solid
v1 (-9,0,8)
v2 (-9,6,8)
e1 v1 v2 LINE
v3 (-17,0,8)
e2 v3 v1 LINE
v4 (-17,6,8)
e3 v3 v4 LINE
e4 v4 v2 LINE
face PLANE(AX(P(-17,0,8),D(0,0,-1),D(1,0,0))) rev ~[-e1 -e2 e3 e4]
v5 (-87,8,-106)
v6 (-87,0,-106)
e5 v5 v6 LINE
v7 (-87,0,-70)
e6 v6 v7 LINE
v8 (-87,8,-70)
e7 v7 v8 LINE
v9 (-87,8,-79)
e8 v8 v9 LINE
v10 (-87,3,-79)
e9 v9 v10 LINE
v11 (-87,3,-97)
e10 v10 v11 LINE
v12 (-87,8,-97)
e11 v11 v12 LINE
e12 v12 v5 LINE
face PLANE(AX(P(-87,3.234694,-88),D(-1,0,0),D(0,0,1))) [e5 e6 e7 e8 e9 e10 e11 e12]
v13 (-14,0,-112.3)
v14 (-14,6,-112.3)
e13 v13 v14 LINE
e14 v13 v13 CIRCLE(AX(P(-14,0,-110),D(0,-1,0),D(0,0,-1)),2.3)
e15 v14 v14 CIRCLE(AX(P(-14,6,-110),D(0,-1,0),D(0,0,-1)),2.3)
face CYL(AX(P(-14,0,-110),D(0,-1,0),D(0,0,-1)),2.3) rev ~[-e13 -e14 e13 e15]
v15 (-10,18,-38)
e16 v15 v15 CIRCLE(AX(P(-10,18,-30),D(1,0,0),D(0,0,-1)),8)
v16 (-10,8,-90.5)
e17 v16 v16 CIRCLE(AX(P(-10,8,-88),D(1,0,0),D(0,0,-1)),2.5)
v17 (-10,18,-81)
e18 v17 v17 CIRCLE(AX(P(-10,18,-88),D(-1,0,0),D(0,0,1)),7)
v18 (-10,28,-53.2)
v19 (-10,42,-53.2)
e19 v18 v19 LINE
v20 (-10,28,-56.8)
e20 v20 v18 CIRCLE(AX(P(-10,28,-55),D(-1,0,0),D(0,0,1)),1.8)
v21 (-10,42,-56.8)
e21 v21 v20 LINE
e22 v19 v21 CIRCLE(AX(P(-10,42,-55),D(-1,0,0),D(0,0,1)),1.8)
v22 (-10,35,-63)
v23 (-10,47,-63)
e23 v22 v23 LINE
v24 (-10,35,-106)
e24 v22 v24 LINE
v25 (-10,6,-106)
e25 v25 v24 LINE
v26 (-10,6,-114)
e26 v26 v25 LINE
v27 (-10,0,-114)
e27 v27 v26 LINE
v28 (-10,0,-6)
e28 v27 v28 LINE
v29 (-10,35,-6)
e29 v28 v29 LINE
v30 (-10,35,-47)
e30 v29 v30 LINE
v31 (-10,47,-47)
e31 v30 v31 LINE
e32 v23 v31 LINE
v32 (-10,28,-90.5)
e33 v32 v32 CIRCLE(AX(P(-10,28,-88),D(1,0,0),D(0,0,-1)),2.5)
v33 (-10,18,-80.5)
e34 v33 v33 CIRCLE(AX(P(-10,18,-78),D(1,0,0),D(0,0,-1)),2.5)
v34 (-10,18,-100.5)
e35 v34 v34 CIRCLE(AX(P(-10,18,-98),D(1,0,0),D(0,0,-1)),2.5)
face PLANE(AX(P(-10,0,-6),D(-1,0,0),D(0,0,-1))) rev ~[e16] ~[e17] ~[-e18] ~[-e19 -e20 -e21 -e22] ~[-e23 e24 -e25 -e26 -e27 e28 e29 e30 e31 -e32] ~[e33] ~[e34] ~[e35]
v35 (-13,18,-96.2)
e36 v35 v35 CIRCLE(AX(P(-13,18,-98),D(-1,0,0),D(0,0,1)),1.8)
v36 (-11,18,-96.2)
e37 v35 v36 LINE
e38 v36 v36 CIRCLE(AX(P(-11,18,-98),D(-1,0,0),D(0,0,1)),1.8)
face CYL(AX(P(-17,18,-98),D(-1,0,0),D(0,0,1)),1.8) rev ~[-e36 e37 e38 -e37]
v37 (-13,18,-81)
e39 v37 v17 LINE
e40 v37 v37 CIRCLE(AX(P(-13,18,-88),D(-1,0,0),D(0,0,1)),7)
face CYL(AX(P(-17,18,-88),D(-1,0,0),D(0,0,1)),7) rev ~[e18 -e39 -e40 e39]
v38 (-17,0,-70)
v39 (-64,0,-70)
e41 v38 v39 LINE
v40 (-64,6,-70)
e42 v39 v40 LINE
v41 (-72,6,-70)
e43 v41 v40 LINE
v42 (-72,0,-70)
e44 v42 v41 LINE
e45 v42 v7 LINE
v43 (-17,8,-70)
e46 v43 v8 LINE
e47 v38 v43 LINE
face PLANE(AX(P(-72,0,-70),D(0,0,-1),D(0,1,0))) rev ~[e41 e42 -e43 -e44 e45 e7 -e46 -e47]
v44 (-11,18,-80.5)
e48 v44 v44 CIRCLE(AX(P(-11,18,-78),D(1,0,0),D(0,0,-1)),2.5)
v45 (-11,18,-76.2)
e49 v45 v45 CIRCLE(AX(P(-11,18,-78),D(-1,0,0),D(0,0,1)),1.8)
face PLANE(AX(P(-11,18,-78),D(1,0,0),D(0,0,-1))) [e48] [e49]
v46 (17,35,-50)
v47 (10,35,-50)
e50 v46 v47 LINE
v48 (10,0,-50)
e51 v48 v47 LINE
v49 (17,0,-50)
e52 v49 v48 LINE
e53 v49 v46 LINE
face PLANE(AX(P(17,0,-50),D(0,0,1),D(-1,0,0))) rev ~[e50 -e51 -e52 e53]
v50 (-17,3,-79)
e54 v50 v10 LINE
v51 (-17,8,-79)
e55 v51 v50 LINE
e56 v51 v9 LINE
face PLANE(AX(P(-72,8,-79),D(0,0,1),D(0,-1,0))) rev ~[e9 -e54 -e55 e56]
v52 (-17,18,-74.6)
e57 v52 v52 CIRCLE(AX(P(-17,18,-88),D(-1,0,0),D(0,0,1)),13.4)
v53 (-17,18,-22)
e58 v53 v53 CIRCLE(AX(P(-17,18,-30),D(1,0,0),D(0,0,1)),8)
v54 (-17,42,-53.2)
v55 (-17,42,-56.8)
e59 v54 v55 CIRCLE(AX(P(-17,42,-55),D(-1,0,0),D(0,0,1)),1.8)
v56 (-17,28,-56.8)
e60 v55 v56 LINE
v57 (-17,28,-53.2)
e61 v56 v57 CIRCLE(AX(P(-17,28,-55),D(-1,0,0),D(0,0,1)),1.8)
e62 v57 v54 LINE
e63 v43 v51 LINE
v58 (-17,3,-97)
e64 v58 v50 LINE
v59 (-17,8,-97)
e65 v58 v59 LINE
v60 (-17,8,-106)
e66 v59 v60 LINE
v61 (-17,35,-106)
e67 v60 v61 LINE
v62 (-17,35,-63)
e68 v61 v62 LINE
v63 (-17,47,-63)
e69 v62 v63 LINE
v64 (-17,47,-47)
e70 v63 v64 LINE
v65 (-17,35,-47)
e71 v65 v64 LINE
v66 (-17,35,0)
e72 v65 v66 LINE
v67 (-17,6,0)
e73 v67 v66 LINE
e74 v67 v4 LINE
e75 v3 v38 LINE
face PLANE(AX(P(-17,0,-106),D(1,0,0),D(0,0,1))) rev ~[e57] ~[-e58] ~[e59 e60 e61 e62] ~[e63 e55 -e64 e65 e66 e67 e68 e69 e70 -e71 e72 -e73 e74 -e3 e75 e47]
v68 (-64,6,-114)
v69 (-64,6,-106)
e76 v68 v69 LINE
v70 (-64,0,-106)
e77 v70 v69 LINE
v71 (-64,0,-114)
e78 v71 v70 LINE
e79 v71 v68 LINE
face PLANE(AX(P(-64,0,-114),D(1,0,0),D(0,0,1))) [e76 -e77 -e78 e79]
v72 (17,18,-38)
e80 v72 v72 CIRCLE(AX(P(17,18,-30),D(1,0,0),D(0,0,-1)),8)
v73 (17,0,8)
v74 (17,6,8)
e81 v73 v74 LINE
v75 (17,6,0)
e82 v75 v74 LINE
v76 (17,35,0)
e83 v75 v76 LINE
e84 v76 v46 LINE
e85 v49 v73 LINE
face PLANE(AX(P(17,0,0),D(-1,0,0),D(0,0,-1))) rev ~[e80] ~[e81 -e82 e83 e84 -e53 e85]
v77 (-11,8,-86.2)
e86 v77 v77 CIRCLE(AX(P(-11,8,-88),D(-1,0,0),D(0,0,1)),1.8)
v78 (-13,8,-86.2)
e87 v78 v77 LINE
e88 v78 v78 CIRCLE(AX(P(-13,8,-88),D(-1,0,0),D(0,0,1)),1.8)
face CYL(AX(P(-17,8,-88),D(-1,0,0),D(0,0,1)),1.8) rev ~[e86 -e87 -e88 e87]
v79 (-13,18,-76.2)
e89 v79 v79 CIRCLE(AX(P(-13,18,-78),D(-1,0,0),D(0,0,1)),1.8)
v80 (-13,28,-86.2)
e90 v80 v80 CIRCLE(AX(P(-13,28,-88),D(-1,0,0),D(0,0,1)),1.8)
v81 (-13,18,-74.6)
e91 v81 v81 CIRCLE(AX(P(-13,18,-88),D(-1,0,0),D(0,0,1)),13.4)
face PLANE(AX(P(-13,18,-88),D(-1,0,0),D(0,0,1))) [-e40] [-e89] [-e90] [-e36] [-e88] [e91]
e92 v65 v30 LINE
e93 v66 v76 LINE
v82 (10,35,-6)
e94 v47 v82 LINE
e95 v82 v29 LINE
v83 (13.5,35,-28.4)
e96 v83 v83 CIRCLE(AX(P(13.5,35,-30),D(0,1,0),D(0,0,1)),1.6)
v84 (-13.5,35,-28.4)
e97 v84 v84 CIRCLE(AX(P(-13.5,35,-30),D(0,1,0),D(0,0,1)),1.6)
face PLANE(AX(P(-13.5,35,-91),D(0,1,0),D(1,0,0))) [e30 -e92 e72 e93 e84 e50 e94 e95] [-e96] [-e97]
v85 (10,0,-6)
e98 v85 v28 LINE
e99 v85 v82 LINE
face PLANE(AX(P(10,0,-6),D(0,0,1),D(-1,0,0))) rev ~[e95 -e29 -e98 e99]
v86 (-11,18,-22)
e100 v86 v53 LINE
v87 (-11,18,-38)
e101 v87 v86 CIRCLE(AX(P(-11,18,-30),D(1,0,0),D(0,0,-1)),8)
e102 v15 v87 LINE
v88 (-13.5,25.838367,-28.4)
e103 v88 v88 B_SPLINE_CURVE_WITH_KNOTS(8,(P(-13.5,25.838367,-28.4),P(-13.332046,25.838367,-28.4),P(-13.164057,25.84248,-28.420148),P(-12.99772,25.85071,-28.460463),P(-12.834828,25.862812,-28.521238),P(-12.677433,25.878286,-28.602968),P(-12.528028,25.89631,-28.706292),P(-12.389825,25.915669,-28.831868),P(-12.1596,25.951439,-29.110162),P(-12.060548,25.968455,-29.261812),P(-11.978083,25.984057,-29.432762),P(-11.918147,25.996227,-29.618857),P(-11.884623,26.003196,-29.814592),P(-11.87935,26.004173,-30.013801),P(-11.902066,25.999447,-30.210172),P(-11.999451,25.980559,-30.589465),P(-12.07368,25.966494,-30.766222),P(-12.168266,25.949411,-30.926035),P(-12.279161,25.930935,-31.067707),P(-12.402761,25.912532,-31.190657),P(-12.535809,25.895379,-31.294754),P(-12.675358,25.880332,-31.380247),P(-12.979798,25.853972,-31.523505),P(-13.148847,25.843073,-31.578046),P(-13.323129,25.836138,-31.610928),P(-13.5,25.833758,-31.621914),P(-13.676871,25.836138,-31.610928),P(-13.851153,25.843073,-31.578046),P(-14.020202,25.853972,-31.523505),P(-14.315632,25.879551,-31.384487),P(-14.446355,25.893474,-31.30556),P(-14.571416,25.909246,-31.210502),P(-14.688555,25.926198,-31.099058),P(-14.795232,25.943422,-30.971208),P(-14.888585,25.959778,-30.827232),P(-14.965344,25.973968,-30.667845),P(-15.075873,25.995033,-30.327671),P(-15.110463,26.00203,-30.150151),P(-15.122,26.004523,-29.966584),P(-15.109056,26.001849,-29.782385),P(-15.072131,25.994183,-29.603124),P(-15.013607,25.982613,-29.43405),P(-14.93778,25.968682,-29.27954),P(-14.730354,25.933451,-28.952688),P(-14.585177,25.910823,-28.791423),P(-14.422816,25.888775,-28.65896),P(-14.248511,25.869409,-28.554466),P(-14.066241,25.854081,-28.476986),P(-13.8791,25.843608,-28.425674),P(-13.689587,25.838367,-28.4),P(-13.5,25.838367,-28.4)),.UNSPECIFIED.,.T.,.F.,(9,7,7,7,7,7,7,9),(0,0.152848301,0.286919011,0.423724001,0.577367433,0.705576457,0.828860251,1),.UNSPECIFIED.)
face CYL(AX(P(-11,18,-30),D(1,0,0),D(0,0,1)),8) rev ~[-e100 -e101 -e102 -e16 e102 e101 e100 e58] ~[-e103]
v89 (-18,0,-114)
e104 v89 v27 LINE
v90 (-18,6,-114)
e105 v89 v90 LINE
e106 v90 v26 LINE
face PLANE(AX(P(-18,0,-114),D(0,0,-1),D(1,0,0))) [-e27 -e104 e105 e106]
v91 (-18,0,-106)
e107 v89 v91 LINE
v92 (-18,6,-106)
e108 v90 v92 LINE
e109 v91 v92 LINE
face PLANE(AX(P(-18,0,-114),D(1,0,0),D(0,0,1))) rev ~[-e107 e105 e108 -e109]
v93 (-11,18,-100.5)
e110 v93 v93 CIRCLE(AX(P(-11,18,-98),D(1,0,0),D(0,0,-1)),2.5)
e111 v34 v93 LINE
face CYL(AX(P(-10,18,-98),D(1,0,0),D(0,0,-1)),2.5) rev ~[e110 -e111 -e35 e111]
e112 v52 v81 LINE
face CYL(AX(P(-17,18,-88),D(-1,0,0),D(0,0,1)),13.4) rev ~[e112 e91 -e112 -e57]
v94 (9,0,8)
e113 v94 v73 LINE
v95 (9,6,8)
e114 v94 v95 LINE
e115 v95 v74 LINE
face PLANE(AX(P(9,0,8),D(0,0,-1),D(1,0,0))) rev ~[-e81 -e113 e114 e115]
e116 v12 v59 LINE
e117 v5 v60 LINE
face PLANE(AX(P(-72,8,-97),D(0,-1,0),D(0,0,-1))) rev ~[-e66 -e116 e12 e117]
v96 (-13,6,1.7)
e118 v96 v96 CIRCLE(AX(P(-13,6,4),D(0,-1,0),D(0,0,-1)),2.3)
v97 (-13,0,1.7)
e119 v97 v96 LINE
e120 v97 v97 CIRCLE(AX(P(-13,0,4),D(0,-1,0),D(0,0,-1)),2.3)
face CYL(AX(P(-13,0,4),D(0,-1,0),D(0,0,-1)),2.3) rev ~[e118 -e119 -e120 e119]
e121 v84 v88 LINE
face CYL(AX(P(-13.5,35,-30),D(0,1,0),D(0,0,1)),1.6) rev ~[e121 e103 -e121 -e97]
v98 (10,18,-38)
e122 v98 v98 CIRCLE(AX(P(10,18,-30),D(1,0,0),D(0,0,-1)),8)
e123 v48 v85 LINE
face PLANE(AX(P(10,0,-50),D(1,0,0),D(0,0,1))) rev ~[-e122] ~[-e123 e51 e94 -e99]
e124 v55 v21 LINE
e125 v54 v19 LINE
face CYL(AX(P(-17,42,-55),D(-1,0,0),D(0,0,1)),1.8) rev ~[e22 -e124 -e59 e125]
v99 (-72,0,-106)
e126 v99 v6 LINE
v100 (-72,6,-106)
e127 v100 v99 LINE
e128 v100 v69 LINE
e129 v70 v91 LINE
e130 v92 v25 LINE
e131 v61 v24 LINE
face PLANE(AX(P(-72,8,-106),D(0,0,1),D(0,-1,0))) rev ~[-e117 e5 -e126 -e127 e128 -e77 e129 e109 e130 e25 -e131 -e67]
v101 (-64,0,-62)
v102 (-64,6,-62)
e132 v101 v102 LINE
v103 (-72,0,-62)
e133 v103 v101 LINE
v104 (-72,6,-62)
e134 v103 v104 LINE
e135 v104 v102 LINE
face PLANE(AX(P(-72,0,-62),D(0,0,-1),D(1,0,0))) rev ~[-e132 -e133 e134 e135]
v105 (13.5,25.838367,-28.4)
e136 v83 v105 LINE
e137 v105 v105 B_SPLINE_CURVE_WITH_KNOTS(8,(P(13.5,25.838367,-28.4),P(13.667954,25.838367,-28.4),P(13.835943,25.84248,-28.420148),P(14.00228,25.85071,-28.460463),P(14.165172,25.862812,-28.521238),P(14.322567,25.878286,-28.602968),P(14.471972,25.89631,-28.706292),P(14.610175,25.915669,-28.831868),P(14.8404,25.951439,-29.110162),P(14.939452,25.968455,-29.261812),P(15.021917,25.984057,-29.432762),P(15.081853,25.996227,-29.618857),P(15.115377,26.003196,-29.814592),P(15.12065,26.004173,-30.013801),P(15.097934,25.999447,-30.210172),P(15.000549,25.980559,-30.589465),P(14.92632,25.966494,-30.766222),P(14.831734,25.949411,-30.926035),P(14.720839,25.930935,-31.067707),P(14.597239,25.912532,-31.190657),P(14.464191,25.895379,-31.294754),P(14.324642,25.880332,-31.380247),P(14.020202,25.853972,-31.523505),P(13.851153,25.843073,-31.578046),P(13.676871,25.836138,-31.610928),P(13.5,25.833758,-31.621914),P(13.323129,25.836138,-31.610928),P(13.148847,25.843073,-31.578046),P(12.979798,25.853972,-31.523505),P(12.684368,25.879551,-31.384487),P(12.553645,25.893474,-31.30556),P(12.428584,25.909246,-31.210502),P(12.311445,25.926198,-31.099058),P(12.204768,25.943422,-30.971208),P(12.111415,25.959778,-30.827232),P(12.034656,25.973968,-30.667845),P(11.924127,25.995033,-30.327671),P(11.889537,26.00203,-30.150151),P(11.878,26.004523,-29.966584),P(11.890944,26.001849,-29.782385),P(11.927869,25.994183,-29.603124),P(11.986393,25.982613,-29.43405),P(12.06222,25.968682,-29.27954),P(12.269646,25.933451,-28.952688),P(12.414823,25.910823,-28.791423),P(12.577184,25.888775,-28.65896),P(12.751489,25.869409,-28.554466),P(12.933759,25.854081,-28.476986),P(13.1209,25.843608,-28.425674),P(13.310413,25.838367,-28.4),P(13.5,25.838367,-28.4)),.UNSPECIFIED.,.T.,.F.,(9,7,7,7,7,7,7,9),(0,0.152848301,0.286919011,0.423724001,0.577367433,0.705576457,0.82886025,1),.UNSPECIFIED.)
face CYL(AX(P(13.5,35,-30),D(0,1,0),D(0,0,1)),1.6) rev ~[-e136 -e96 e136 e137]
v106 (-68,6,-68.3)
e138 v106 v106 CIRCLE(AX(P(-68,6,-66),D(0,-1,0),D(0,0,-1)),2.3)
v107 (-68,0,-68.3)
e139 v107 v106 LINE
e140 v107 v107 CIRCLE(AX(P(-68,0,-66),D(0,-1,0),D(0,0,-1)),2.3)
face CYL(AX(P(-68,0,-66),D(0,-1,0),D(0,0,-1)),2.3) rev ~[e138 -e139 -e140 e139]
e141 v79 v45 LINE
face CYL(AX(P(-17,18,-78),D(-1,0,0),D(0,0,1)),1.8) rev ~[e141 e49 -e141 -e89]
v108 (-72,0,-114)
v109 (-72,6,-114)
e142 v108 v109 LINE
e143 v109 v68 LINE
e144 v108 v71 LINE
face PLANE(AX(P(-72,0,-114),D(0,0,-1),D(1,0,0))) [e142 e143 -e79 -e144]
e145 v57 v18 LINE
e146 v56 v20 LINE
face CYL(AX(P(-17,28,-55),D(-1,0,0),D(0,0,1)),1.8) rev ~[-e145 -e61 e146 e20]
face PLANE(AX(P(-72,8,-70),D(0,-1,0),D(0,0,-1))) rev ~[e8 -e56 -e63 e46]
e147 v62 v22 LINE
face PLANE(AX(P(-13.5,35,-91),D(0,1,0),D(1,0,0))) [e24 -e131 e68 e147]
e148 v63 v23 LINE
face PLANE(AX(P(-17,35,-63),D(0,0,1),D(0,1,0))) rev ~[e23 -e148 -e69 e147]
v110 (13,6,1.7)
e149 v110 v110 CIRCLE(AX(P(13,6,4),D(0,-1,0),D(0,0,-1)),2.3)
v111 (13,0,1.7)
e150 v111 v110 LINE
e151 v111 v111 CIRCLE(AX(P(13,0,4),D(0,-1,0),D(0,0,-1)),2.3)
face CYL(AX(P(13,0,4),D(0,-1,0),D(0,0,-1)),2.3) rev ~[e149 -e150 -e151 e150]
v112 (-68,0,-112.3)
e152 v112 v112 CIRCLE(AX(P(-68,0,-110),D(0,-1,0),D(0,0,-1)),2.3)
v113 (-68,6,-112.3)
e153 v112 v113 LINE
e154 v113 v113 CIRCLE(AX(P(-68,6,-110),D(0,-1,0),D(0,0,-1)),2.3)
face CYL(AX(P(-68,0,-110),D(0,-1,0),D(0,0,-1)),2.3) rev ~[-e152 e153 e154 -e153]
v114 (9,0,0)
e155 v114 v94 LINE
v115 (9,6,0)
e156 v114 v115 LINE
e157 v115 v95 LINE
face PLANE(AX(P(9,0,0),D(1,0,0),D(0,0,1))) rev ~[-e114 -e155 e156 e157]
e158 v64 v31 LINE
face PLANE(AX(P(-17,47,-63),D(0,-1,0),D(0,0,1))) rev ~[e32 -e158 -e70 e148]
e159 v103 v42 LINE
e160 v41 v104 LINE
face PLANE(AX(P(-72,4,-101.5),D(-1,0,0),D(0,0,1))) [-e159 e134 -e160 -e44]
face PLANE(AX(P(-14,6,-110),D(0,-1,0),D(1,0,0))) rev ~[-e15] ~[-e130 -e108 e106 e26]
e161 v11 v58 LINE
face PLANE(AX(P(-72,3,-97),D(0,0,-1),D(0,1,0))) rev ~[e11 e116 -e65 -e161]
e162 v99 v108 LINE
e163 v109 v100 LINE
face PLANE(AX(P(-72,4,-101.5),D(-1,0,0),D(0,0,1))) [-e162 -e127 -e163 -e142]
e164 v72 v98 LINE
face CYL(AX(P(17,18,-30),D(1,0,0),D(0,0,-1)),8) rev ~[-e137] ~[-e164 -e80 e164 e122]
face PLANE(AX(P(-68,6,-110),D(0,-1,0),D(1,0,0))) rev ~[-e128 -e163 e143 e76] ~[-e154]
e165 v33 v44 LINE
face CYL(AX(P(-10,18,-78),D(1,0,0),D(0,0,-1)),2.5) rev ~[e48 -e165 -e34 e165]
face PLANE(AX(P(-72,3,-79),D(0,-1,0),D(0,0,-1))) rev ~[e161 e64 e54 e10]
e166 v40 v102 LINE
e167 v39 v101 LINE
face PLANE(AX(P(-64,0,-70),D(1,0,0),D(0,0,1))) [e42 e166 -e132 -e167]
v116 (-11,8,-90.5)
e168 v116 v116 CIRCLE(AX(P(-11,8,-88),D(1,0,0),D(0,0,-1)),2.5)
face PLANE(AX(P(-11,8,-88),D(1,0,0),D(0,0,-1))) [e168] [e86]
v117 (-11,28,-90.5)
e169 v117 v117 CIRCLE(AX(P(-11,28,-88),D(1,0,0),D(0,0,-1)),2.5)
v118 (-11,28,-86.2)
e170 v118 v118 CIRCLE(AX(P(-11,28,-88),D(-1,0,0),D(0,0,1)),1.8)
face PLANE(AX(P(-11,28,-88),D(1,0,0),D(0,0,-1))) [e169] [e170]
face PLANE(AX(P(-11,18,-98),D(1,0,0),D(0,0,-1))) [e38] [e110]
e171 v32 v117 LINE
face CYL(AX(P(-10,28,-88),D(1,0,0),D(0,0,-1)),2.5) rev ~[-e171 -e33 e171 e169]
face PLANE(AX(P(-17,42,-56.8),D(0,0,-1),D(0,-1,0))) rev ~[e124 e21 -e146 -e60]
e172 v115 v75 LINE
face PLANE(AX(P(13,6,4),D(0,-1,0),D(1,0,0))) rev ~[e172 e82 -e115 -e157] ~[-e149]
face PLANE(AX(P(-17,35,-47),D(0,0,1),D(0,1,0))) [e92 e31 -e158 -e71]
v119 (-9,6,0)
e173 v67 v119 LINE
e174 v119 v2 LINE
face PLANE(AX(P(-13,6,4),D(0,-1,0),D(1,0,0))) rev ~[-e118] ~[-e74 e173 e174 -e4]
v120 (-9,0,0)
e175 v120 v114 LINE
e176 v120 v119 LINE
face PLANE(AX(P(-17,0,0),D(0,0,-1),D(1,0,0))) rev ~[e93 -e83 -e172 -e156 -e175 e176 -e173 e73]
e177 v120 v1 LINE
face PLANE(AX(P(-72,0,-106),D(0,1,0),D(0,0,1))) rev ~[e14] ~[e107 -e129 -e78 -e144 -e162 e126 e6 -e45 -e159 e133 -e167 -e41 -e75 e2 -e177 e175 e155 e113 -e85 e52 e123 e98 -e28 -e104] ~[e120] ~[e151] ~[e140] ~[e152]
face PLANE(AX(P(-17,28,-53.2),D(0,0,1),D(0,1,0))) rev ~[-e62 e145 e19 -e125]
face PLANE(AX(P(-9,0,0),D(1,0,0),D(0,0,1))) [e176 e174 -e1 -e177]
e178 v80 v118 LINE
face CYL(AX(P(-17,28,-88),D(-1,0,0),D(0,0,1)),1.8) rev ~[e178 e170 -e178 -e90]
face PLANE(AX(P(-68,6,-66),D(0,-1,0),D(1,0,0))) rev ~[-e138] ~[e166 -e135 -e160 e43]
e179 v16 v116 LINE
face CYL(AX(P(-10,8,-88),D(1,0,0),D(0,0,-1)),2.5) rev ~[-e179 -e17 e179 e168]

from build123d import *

# Parameters (mm, degrees)
BOSS_EXTRU_1_DEPTH      = 35
ESQUISSE2_R             = 8
ENL_V_MAT_EXTRU_1_DEPTH = 28
ESQUISSE4_R             = 1.8
ENL_V_MAT_EXTRU_2_DEPTH = 10
ESQUISSE4_3_R           = 13.4
ESQUISSE4_3_R_2         = 1.8
ESQUISSE4_3_R_3         = 7
ENL_V_MAT_EXTRU_3_DEPTH = 4
ESQUISSE4_4_R           = 7
ENL_V_MAT_EXTRU_4_DEPTH = 10
BOSS_EXTRU_2_DEPTH      = 55
ESQUISSE8_W             = 8
ESQUISSE8_H             = 8
ESQUISSE8_R             = 2.3
BOSS_EXTRU_3_DEPTH      = 6
ESQUISSE10_W            = 16
ESQUISSE10_H            = 12
BOSS_EXTRU_4_DEPTH      = 7
ENL_V_MAT_EXTRU_5_DEPTH = 10
ESQUISSE11_R            = 1.6
ENL_V_MAT_EXTRU_6_DEPTH = 10
ESQUISSE12_R            = 2.5
ENL_V_MAT_EXTRU_7_DEPTH = 1
ESQUISSE15_R            = 8
ENL_V_MAT_EXTRU_8_DEPTH = 10
BOSS_EXTRU_5_DEPTH      = 15


with BuildPart() as part:
    # Esquisse1 → Boss.-Extru.1 (new body)
    with BuildSketch(Plane(origin=(0, 0, 0), x_dir=(1, 0, 0), z_dir=(0, 1, 0))):
        Polygon((-17, 0), (17, 0), (17, 50), (10, 50), (10, 6), (-10, 6), (-10, 106), (-17, 106), align=None)
    extrude(amount=BOSS_EXTRU_1_DEPTH)

    # Esquisse2 → Enlèv. mat.-Extru.1 (cut)
    with BuildSketch(Plane(origin=(17, 0, 0), x_dir=(0, 0, -1), z_dir=(1, 0, 0))):
        with Locations((30, 18)):
            Circle(ESQUISSE2_R)
    extrude(amount=-ENL_V_MAT_EXTRU_1_DEPTH, mode=Mode.SUBTRACT)

    # Esquisse4 → Enlèv. mat.-Extru.2 (cut)
    with BuildSketch(Plane.ZY.offset(17)):
        with Locations((-88, 8)):
            Circle(ESQUISSE4_R)
        with Locations((-78, 18)):
            Circle(ESQUISSE4_R)
        with Locations((-88, 28)):
            Circle(ESQUISSE4_R)
        with Locations((-98, 18)):
            Circle(ESQUISSE4_R)
    extrude(amount=-ENL_V_MAT_EXTRU_2_DEPTH, mode=Mode.SUBTRACT)

    # Esquisse4<3> → Enlèv. mat.-Extru.3 (cut)
    with BuildSketch(Plane.ZY.offset(17)):
        with Locations((-88, 18)):
            Circle(ESQUISSE4_3_R)
        with Locations((-88, 8)):
            Circle(ESQUISSE4_3_R_2, mode=Mode.SUBTRACT)
        with Locations((-98, 18)):
            Circle(ESQUISSE4_3_R_2, mode=Mode.SUBTRACT)
        with Locations((-88, 18)):
            Circle(ESQUISSE4_3_R_3, mode=Mode.SUBTRACT)
        with Locations((-88, 28)):
            Circle(ESQUISSE4_3_R_2, mode=Mode.SUBTRACT)
        with Locations((-78, 18)):
            Circle(ESQUISSE4_3_R_2, mode=Mode.SUBTRACT)
    extrude(amount=-ENL_V_MAT_EXTRU_3_DEPTH, mode=Mode.SUBTRACT)

    # Esquisse4<4> → Enlèv. mat.-Extru.4 (cut)
    with BuildSketch(Plane.ZY.offset(17)):
        with Locations((-88, 18)):
            Circle(ESQUISSE4_4_R)
    extrude(amount=-ENL_V_MAT_EXTRU_4_DEPTH, mode=Mode.SUBTRACT)

    # Esquisse4<11> → Boss.-Extru.2 (add)
    with BuildSketch(Plane.ZY.offset(17)):
        Polygon((-70, 0), (-70, 8), (-79, 8), (-79, 3), (-97, 3), (-97, 8), (-106, 8), (-106, 0), align=None)
    extrude(amount=BOSS_EXTRU_2_DEPTH)

    # Esquisse8 → Boss.-Extru.3 (add)
    # profile 1 of 5: a face of its own
    with BuildSketch(Plane.XZ):
        with Locations((13, 4)):
            Rectangle(ESQUISSE8_W, ESQUISSE8_H)
        with Locations((13, 4)):
            Circle(ESQUISSE8_R, mode=Mode.SUBTRACT)
    # profile 2 of 5: a face of its own
    with BuildSketch(Plane.XZ):
        with Locations((-13, 4)):
            Rectangle(ESQUISSE8_W, ESQUISSE8_H)
        with Locations((-13, 4)):
            Circle(ESQUISSE8_R, mode=Mode.SUBTRACT)
    # profile 3 of 5: a face of its own
    with BuildSketch(Plane.XZ):
        with Locations((-68, -110)):
            Rectangle(ESQUISSE8_W, ESQUISSE8_H)
        with Locations((-68, -110)):
            Circle(ESQUISSE8_R, mode=Mode.SUBTRACT)
    # profile 4 of 5: a face of its own
    with BuildSketch(Plane.XZ):
        with Locations((-68, -66)):
            Rectangle(ESQUISSE8_W, ESQUISSE8_H)
        with Locations((-68, -66)):
            Circle(ESQUISSE8_R, mode=Mode.SUBTRACT)
    # profile 5 of 5: a face of its own
    with BuildSketch(Plane.XZ):
        with Locations((-14, -110)):
            Rectangle(ESQUISSE8_W, ESQUISSE8_H)
        with Locations((-14, -110)):
            Circle(ESQUISSE8_R, mode=Mode.SUBTRACT)
    extrude(amount=-BOSS_EXTRU_3_DEPTH)

    # Esquisse10 → Boss.-Extru.4 (add)
    with BuildSketch(Plane.ZY.offset(17)):
        with Locations((-55, 41)):
            Rectangle(ESQUISSE10_W, ESQUISSE10_H)
    extrude(amount=-BOSS_EXTRU_4_DEPTH)

    # Esquisse9 → Enlèv. mat.-Extru.5 (cut)
    with BuildSketch(Plane.ZY.offset(17)):
        with BuildLine():
            Line((-56.8, 42), (-56.8, 28))
            ThreePointArc((-56.8, 28), (-55, 26.2), (-53.2, 28))
            Line((-53.2, 28), (-53.2, 42))
            ThreePointArc((-53.2, 42), (-55, 43.8), (-56.8, 42))
        make_face()
    extrude(amount=-ENL_V_MAT_EXTRU_5_DEPTH, mode=Mode.SUBTRACT)

    # Esquisse11 → Enlèv. mat.-Extru.6 (cut)
    with BuildSketch(Plane(origin=(0, 35, 0), x_dir=(1, 0, 0), z_dir=(0, 1, 0))):
        with Locations((-13.5, 30)):
            Circle(ESQUISSE11_R)
        with Locations((13.5, 30)):
            Circle(ESQUISSE11_R)
    extrude(amount=-ENL_V_MAT_EXTRU_6_DEPTH, mode=Mode.SUBTRACT)

    # Esquisse12 → Enlèv. mat.-Extru.7 (cut)
    with BuildSketch(Plane(origin=(-10, 0, 0), x_dir=(0, 0, -1), z_dir=(1, 0, 0))):
        with Locations((88, 28)):
            Circle(ESQUISSE12_R)
        with Locations((98, 18)):
            Circle(ESQUISSE12_R)
        with Locations((88, 8)):
            Circle(ESQUISSE12_R)
        with Locations((78, 18)):
            Circle(ESQUISSE12_R)
    extrude(amount=-ENL_V_MAT_EXTRU_7_DEPTH, mode=Mode.SUBTRACT)

    # Esquisse15 → Enlèv. mat.-Extru.8 (cut)
    with BuildSketch(Plane(origin=(-11, 0, 0), x_dir=(0, 0, -1), z_dir=(1, 0, 0))):
        with Locations((30, 18)):
            Circle(ESQUISSE15_R)
    extrude(amount=-ENL_V_MAT_EXTRU_8_DEPTH, mode=Mode.SUBTRACT)

    # Esquisse16 → Boss.-Extru.5 (add)
    with BuildSketch(Plane.ZY.offset(72)):
        Polygon((-106, 8), (-106, 0), (-70, 0), (-70, 8), (-79, 8), (-79, 3), (-97, 3), (-97, 8), align=None)
    extrude(amount=BOSS_EXTRU_5_DEPTH)


solid = part.part
